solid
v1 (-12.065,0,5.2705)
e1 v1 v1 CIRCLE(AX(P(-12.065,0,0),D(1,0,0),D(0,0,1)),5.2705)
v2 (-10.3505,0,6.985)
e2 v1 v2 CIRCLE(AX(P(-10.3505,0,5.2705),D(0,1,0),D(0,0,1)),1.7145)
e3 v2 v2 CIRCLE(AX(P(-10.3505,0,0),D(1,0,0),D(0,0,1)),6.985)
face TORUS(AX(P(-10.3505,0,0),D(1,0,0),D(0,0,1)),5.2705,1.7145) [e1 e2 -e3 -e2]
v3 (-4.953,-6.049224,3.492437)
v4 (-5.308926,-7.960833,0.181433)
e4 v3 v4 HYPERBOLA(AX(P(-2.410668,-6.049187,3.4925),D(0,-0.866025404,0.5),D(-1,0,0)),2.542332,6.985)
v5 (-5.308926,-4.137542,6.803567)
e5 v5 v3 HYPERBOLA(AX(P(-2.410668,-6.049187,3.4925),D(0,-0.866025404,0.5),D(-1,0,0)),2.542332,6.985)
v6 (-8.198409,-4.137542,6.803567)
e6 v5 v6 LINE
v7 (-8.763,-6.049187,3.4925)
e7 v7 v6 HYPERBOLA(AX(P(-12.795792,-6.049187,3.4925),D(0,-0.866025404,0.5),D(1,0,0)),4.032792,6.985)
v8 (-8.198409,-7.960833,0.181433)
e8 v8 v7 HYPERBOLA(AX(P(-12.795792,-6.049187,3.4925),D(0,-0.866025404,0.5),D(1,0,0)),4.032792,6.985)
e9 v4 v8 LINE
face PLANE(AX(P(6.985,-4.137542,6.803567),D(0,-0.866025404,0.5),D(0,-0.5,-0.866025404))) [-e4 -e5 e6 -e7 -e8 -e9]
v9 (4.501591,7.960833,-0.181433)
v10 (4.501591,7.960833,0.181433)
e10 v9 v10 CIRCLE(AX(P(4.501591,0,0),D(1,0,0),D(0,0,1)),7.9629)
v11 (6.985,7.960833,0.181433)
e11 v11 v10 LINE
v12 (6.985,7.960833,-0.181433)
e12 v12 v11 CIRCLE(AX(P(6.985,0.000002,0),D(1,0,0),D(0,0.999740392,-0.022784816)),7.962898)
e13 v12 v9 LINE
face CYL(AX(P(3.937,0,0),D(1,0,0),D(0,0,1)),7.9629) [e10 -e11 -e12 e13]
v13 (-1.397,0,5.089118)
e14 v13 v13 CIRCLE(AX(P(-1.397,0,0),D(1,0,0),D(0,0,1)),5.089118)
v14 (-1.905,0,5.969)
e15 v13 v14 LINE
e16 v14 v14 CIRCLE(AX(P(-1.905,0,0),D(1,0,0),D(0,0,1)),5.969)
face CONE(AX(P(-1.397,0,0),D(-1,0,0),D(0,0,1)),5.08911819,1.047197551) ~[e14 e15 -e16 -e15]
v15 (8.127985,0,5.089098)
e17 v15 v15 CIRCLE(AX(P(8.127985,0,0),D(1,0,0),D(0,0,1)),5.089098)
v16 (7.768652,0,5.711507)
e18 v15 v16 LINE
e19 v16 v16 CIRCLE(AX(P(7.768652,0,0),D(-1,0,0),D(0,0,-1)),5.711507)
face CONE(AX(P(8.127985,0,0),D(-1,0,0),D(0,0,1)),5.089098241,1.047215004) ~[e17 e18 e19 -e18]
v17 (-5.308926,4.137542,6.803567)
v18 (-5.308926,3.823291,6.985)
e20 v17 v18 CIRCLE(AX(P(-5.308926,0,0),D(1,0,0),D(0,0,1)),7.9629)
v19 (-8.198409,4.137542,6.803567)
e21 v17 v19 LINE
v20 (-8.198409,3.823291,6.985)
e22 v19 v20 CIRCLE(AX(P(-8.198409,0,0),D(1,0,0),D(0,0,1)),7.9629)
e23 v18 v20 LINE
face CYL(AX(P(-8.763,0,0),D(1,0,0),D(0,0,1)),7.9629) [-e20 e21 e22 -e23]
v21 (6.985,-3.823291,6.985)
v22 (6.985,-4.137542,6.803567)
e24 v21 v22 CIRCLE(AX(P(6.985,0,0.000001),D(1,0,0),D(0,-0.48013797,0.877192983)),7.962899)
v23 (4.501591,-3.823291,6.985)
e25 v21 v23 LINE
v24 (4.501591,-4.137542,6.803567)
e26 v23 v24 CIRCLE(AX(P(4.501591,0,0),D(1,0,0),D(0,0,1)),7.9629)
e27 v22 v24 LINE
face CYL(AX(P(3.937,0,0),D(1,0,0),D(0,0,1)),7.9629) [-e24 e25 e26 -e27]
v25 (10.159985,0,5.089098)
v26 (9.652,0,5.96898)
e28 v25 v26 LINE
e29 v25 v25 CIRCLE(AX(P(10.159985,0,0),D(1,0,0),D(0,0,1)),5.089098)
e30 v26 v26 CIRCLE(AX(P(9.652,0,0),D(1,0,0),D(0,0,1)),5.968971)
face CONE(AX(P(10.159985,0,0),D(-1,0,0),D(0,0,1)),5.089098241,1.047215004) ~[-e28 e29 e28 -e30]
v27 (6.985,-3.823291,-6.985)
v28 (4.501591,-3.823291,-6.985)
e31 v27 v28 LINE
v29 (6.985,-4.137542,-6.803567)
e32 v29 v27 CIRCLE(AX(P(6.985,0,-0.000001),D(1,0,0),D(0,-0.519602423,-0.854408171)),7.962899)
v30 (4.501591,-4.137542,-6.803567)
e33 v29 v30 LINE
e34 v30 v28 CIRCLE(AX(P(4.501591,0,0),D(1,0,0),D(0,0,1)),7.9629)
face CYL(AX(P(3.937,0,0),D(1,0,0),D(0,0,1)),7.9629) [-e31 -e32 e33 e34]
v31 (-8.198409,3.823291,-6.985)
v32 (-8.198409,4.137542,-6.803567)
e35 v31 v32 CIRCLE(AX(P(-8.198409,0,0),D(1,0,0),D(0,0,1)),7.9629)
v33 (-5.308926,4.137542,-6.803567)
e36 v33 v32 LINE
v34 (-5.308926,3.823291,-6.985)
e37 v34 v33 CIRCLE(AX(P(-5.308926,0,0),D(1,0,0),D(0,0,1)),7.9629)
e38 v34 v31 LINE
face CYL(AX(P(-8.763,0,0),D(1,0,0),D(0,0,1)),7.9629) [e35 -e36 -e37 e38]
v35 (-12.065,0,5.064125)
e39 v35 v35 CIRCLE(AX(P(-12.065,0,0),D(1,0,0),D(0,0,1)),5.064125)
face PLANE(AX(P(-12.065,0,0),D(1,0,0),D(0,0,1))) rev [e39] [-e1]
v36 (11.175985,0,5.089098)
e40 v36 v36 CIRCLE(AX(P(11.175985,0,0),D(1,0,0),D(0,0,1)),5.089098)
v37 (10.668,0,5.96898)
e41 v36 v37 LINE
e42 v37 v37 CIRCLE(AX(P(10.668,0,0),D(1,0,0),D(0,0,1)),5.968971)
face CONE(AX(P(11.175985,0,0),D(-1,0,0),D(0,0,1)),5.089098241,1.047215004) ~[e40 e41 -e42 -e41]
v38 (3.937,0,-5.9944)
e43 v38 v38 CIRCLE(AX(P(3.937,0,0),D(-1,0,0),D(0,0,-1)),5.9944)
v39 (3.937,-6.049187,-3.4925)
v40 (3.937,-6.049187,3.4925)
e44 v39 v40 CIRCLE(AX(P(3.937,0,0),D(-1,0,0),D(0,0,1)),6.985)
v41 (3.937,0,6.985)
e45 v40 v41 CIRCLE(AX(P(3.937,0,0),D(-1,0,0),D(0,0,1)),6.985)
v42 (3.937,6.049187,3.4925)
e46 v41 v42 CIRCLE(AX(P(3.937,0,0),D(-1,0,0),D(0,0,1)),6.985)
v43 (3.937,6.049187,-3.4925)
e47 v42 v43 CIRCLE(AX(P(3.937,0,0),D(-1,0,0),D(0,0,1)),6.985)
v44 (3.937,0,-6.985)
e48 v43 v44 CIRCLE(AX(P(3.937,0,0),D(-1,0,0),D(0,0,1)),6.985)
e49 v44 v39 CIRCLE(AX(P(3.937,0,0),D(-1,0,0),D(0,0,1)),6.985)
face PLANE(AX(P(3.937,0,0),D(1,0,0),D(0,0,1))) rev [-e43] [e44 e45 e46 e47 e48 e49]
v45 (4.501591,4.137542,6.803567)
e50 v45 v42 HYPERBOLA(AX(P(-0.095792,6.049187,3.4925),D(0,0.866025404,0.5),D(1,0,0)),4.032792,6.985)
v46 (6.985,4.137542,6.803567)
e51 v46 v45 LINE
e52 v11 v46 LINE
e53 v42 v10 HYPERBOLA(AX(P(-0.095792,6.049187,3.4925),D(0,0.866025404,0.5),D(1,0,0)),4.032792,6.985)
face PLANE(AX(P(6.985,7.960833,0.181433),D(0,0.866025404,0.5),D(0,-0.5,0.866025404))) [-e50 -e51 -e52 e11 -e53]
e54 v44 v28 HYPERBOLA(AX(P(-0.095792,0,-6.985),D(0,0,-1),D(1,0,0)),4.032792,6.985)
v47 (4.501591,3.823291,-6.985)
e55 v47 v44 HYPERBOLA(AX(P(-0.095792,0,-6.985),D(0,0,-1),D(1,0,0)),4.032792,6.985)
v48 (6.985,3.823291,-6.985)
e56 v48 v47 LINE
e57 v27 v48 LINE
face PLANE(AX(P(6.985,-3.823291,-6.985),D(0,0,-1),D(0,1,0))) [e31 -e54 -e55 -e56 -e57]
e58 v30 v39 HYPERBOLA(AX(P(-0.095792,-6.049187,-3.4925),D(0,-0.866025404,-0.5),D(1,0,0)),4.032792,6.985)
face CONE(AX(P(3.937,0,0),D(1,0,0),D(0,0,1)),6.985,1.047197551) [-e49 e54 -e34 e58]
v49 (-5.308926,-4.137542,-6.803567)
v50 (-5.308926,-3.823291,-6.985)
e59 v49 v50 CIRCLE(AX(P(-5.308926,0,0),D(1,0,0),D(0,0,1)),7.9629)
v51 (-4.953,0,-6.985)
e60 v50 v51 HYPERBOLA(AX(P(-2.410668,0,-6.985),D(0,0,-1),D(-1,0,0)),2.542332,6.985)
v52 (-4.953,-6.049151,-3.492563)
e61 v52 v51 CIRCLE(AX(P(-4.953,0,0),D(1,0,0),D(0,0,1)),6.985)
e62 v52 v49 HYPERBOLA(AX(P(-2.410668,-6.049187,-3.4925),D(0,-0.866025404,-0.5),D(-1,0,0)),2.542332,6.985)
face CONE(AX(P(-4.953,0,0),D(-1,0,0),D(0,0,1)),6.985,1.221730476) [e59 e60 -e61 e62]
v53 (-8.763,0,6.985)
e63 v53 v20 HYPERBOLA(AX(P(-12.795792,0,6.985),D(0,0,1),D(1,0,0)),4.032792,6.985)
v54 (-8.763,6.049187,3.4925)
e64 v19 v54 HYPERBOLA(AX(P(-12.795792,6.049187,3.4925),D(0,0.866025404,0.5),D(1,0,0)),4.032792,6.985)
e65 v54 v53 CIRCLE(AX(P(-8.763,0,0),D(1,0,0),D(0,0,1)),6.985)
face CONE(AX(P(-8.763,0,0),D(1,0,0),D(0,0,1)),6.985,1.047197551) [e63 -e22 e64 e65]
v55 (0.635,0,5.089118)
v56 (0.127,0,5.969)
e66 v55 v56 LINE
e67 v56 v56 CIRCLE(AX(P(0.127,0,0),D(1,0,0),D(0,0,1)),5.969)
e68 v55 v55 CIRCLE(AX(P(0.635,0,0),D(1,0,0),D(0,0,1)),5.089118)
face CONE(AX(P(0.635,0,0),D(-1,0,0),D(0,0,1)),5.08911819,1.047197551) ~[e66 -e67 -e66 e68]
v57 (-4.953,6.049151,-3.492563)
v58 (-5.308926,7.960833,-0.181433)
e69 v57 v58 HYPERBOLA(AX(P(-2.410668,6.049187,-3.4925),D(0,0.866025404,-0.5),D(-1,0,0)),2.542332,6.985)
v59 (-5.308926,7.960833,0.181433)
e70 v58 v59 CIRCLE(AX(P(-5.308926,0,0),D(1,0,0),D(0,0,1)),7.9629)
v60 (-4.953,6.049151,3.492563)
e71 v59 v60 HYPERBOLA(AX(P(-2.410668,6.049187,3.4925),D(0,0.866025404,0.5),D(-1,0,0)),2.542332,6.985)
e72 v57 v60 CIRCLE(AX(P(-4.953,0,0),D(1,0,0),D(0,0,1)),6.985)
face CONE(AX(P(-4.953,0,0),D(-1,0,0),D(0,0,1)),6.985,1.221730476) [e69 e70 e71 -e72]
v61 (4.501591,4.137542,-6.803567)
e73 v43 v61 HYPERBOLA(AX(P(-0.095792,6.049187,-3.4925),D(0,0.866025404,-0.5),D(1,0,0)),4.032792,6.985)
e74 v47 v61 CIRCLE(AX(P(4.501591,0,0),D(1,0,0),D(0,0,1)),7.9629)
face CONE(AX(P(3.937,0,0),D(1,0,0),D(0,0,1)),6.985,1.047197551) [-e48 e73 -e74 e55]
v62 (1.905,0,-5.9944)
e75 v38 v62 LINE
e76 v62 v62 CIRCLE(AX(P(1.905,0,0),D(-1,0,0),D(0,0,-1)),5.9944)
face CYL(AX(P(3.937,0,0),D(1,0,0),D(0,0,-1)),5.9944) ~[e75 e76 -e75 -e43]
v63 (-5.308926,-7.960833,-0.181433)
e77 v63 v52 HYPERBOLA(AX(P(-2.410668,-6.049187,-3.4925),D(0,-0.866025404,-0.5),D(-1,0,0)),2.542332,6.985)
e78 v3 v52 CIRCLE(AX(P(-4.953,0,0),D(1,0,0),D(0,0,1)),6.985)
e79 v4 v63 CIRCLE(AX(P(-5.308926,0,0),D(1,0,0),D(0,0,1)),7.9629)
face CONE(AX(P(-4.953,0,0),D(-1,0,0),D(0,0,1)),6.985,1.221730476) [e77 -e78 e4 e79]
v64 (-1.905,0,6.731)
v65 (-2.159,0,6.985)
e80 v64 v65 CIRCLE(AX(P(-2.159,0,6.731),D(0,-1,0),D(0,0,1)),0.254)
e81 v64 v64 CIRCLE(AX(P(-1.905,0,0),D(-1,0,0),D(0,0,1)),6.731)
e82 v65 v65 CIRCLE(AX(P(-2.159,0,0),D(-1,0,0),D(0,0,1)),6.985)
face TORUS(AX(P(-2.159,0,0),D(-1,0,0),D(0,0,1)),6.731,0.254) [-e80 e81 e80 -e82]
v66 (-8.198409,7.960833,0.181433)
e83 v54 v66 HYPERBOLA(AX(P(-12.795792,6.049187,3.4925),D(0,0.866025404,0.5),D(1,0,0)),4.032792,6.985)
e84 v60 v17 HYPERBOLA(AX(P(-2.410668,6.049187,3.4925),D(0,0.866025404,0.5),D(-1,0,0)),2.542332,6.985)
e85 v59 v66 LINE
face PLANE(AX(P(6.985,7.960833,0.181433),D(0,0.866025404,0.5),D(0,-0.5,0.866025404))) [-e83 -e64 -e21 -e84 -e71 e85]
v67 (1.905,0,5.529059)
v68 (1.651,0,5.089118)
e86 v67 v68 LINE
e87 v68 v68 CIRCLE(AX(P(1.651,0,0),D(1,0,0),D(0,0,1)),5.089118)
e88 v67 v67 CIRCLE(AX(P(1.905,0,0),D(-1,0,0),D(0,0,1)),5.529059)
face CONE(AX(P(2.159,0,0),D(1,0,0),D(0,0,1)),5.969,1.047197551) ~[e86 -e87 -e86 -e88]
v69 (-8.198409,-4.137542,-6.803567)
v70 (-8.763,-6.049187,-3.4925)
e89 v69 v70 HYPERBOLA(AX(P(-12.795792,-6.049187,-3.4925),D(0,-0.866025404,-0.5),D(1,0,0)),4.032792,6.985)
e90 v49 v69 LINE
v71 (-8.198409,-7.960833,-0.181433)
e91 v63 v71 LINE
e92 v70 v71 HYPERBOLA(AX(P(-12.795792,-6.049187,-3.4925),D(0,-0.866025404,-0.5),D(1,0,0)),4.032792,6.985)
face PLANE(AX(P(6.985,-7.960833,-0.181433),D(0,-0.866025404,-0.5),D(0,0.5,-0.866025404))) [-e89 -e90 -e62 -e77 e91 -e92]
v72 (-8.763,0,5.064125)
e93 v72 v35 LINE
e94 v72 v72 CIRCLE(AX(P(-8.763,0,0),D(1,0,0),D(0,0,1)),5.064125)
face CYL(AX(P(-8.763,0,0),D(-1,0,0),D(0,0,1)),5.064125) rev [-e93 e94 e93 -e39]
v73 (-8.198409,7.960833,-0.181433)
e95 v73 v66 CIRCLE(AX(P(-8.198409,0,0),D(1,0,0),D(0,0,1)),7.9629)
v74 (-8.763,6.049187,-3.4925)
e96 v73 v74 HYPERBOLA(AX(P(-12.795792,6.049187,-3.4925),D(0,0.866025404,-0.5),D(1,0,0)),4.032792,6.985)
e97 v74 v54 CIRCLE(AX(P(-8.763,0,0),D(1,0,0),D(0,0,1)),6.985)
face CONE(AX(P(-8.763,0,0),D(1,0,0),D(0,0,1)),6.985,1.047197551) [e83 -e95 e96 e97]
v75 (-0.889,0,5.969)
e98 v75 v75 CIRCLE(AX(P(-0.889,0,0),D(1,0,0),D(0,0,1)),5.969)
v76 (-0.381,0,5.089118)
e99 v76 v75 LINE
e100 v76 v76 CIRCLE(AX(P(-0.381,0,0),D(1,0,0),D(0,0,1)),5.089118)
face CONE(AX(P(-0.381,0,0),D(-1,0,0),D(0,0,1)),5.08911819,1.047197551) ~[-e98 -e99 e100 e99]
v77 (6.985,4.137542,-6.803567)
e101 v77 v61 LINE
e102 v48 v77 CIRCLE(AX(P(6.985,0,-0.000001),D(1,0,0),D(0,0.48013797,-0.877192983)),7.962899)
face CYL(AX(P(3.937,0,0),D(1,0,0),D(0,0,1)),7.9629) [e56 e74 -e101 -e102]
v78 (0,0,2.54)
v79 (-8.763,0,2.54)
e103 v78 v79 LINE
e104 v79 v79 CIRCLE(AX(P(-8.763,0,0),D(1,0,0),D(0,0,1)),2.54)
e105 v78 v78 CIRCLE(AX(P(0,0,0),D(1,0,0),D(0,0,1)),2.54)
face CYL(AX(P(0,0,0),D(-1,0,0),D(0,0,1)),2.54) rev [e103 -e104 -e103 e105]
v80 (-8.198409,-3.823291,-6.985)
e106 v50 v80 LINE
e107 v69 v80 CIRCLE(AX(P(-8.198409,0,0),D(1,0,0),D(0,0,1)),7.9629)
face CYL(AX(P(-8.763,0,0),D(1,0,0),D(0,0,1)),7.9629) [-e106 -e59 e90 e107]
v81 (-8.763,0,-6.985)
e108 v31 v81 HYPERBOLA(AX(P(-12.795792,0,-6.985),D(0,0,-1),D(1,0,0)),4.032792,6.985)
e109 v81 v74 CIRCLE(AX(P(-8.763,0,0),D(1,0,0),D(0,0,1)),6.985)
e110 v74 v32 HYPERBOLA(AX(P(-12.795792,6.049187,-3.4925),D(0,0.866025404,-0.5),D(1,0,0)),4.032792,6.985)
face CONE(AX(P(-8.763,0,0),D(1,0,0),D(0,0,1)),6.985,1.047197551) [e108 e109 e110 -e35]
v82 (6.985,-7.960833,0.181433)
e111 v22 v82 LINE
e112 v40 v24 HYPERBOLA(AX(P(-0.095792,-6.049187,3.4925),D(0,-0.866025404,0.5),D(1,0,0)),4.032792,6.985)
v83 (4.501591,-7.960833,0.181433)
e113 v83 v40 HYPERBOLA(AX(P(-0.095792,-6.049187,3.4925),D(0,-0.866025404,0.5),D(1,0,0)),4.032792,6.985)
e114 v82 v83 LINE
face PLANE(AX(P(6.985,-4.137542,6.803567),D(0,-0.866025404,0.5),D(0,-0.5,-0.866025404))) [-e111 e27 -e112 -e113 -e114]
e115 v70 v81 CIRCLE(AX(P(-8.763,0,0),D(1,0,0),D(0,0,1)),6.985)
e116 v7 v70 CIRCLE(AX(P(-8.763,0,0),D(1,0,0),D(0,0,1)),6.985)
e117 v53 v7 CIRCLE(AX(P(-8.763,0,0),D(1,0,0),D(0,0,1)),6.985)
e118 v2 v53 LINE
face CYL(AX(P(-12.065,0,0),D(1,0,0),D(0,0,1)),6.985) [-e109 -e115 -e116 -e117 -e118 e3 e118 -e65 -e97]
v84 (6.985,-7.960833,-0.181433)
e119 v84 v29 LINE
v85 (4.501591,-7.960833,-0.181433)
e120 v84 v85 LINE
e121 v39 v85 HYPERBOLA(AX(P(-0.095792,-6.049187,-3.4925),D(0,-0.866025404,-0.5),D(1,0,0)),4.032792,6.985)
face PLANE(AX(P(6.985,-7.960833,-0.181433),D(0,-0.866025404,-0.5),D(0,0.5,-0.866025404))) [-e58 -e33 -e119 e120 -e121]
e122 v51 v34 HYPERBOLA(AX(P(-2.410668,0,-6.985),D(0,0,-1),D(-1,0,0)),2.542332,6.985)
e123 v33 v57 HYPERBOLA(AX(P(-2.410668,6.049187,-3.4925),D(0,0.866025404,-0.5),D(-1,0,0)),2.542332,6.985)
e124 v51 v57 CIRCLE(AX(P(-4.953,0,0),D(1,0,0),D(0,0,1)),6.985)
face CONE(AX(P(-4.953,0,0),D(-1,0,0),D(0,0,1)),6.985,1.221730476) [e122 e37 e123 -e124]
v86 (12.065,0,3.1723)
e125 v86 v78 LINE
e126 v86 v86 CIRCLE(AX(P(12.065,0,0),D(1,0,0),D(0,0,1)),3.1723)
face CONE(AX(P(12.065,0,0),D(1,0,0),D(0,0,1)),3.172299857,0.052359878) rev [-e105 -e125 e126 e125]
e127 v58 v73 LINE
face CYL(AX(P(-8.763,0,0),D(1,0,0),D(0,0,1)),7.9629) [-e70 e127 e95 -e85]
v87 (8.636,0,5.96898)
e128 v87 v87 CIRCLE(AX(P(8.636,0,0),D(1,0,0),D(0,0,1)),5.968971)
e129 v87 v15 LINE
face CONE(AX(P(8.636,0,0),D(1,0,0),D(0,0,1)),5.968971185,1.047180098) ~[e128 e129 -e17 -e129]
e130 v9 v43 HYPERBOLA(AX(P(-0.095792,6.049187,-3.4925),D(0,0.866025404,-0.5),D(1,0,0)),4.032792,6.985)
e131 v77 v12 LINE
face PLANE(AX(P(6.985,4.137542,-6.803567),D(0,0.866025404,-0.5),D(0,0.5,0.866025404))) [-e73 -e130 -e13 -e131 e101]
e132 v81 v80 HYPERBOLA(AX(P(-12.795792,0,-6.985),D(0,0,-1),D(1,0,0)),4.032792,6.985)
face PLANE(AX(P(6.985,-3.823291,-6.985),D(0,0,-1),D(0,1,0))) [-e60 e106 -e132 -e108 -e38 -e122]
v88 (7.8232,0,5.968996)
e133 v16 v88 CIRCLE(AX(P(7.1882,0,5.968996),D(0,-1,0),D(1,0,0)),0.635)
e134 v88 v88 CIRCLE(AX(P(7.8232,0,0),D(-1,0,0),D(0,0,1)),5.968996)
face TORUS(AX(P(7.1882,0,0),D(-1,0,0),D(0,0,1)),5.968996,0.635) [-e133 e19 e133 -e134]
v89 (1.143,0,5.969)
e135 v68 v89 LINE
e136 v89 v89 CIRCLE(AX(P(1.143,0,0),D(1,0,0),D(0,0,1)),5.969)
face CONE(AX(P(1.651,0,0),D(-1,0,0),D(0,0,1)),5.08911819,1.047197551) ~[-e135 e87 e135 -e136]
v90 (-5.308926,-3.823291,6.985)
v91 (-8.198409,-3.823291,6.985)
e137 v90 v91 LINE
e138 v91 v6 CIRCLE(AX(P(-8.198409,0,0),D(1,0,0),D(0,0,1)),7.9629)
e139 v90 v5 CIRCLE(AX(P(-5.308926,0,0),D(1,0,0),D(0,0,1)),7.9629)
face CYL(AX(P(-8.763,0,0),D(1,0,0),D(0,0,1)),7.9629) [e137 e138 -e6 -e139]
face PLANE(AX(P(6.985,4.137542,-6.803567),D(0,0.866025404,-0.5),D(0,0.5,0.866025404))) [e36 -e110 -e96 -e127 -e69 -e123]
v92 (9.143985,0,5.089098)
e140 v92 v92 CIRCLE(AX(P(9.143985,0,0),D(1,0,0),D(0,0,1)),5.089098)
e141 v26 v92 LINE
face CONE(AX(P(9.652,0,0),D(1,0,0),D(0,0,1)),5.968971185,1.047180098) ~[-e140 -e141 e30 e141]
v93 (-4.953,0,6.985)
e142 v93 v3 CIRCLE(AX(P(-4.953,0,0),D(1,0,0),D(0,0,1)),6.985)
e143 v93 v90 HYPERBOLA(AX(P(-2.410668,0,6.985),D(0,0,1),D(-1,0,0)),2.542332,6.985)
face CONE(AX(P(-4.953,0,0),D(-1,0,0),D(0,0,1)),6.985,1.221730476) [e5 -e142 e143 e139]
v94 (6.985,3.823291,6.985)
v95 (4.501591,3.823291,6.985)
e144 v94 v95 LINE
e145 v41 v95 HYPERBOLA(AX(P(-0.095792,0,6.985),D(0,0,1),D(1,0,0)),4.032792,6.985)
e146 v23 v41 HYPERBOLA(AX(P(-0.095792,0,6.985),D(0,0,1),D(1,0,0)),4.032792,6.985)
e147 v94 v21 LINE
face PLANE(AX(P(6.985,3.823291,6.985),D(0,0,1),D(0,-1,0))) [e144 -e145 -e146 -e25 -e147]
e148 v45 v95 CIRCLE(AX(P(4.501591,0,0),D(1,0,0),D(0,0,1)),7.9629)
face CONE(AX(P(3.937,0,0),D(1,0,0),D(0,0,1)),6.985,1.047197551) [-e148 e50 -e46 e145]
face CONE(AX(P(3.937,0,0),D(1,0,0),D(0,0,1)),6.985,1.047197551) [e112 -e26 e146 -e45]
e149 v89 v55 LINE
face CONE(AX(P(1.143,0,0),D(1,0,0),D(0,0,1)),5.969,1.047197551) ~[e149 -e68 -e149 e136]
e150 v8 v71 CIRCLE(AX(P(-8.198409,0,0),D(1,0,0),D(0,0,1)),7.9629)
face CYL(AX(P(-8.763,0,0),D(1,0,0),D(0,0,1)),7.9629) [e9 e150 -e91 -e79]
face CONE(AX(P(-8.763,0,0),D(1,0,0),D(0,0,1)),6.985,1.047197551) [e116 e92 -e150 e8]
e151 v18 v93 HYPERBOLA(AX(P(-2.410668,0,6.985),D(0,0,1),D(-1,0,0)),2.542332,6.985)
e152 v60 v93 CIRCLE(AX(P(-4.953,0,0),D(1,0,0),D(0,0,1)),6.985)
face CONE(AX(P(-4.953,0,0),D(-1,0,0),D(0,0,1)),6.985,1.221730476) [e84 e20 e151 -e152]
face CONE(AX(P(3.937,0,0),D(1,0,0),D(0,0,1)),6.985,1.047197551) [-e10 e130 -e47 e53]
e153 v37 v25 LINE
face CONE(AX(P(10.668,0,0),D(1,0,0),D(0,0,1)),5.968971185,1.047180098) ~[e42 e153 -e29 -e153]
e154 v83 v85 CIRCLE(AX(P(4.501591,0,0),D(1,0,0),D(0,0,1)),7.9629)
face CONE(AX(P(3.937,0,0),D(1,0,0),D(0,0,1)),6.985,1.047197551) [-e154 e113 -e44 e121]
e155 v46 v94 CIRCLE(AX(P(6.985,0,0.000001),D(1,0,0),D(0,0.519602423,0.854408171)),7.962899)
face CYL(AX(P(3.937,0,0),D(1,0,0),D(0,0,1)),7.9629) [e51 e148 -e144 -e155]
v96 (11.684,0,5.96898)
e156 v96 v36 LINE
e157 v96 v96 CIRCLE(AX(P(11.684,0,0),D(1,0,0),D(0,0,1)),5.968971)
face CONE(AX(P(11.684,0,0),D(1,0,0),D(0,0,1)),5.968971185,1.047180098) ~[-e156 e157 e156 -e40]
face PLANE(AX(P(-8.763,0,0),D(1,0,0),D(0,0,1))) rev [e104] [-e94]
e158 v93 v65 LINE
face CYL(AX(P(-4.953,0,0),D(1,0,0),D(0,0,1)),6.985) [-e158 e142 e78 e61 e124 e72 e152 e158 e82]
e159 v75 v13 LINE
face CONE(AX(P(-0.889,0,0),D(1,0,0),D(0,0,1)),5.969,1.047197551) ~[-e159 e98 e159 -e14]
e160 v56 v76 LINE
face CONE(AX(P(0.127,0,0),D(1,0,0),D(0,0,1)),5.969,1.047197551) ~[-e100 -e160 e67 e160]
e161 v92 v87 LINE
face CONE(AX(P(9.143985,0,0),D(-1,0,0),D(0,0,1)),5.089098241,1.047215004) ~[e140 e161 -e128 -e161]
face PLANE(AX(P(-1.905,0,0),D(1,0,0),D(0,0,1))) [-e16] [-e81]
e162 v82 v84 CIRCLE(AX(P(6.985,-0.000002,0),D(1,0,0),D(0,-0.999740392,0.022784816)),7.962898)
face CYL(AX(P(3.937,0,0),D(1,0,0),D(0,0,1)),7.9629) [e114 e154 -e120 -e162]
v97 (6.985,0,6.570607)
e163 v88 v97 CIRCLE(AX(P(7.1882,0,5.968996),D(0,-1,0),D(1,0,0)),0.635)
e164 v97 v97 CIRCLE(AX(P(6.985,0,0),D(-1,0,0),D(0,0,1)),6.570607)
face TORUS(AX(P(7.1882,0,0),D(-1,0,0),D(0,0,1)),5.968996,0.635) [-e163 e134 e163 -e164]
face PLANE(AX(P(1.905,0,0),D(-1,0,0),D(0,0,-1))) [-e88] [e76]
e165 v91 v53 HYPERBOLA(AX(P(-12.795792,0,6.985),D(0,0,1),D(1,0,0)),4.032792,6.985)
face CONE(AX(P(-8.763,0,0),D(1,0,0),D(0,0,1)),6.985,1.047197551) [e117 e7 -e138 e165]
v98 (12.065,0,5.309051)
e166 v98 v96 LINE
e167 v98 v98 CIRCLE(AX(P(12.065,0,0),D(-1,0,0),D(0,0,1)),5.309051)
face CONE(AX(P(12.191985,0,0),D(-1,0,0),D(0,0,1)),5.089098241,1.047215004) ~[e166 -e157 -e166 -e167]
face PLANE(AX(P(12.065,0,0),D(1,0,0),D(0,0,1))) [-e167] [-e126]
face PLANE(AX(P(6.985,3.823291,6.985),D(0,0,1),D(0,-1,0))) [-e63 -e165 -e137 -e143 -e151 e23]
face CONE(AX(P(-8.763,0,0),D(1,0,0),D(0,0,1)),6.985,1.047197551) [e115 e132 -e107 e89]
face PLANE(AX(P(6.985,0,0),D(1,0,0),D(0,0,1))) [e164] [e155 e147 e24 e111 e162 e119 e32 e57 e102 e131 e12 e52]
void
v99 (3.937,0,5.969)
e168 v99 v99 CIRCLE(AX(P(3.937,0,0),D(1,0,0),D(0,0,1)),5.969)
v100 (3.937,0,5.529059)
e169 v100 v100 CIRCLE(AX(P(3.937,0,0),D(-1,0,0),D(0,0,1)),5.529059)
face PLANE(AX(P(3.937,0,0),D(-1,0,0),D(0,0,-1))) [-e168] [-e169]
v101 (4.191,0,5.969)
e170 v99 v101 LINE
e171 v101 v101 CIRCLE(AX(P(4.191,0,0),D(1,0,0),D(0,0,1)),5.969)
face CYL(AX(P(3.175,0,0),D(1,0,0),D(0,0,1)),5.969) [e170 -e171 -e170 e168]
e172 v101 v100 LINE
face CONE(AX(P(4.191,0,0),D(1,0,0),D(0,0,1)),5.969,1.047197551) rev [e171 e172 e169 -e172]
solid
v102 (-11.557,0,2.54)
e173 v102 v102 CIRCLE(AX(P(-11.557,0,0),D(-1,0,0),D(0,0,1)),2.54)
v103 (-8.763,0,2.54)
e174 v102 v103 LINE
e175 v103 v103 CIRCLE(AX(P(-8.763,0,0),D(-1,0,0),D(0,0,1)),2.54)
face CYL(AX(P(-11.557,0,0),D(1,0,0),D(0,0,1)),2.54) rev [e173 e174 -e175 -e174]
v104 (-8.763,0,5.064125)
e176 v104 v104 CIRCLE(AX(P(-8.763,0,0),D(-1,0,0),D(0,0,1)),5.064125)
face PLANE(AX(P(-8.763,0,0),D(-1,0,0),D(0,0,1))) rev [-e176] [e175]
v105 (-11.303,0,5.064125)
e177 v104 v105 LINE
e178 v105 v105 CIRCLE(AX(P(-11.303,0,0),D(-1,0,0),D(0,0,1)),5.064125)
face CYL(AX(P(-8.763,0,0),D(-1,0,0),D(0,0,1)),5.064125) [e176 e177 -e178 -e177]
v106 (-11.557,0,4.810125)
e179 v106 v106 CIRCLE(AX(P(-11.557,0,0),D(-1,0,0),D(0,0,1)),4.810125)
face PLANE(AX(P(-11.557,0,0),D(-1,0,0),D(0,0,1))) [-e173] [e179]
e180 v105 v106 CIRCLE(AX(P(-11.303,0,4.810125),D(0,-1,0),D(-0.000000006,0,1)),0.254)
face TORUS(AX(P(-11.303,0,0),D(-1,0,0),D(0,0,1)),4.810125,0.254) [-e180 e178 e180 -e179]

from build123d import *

# Parameters (mm, degrees)
SKETCH6_OUTSIDE_W  = 24.528
SKETCH6_OUTSIDE_H  = 24.528
CUT_EXTRUDE2_DEPTH = 15.748
SKETCH7_OUTSIDE_W  = 31.19
SKETCH7_OUTSIDE_H  = 33.146
SKETCH7_OUTSIDE_R  = 6.985
CUT_EXTRUDE3_DEPTH = 2.54
CUT_EXTRUDE3_DRAFT = -60
SKETCH8_OUTSIDE_W  = 36.35
SKETCH8_OUTSIDE_H  = 38.306
SKETCH8_OUTSIDE_R  = 6.985
CUT_EXTRUDE4_DEPTH = 2.54
CUT_EXTRUDE4_DRAFT = -70
SKETCH9_OUTSIDE_W  = 54.012
SKETCH9_OUTSIDE_H  = 55.968
SKETCH9_OUTSIDE_R  = 6.985
CUT_EXTRUDE5_DEPTH = 9.128
CUT_EXTRUDE5_DRAFT = -60
FILLET1_R          = 1.7145
LPATTERN1_COUNT    = 6
LPATTERN1_PITCH    = 1.016
LPATTERN2_COUNT    = 5
LPATTERN2_PITCH    = 1.016
SKETCH16_R         = 5.9944
SKETCH16_R_2       = 3.172299857
EXTRUDE4_DEPTH     = 2.032
FILLET5_R          = 0.254
SKETCH18_R         = 0.635


with BuildPart() as part:
    # Sketch2 → Revolve1 (revolve)
    with BuildSketch(Plane.XY, mode=Mode.PRIVATE) as revolve1_sk:
        Polygon((-12.065, 5.064125), (-12.065, 6.985), (-8.763, 6.985), (-8.763, 7.9629), (-4.953, 7.9629), (-4.953, 6.985), (-1.905, 6.985), (-1.905, 5.969), (3.937, 5.969), (3.937, 7.9629), (6.985, 7.9629), (6.985, 5.969), (12.065, 5.968911337), (12.065, 3.172299857), (0, 2.54), (-8.763, 2.54), (-8.763, 5.064125), align=None)
    revolve(revolve1_sk.sketch.rotate(Axis((-69.075133251, 0, 0), (1, 0, 0)), 90), axis=Axis((-69.075133251, 0, 0), (1, 0, 0)))  # turned: the seam where the file's is

    # Sketch6 outside → Cut-Extrude2 (cut)
    with BuildSketch(Plane(origin=(6.985, 0, 0), x_dir=(0, 0, -1), z_dir=(1, 0, 0))):
        Rectangle(SKETCH6_OUTSIDE_W, SKETCH6_OUTSIDE_H)
        with BuildLine():
            Line((6.985, -3.823290652), (6.985, 3.823290652))
            ThreePointArc((6.985, 3.823290652), (6.896073688, 3.98145), (6.803566831, 4.137542119))
            Line((6.803566831, 4.137542119), (0.181433169, 7.960832771))
            ThreePointArc((0.181433169, 7.960832771), (0, 7.9629), (-0.181433169, 7.960832771))
            Line((-0.181433169, 7.960832771), (-6.803566831, 4.137542119))
            ThreePointArc((-6.803566831, 4.137542119), (-6.896073688, 3.98145), (-6.985, 3.823290652))
            Line((-6.985, 3.823290652), (-6.985, -3.823290652))
            ThreePointArc((-6.985, -3.823290652), (-6.896073688, -3.98145), (-6.803566831, -4.137542119))
            Line((-6.803566831, -4.137542119), (-0.181433169, -7.960832771))
            ThreePointArc((-0.181433169, -7.960832771), (0, -7.9629), (0.181433169, -7.960832771))
            Line((0.181433169, -7.960832771), (6.803566831, -4.137542119))
            ThreePointArc((6.803566831, -4.137542119), (6.896073688, -3.98145), (6.985, -3.823290652))
        make_face(mode=Mode.SUBTRACT)
    extrude(amount=-CUT_EXTRUDE2_DEPTH, mode=Mode.SUBTRACT)


with BuildPart() as cut_extrude3_tool:
    # Sketch7 outside → Cut-Extrude3 (with draft: the straight prism first)
    with BuildSketch(Plane.ZY.offset(8.763)):
        Rectangle(SKETCH7_OUTSIDE_W, SKETCH7_OUTSIDE_H)
        Circle(SKETCH7_OUTSIDE_R, mode=Mode.SUBTRACT)
    extrude(amount=-CUT_EXTRUDE3_DEPTH)
    # Cut-Extrude3: the draft: its side faces are tilted about the plane it starts from
    cut_extrude3_sides = [cut_extrude3_tool.faces().sort_by_distance(p)[0] for p in [
        (-7.493, -16.573, 0),
        (-7.493, 0, 15.595),
        (-7.493, 16.573, 0),
        (-7.493, 0, -15.595),
        (-7.493, 0, -6.985),
    ]]
    draft(cut_extrude3_sides, Plane.ZY.offset(8.763), CUT_EXTRUDE3_DRAFT)


with BuildPart() as part_1:
    add(part.part)

    # Cut-Extrude3: cut by cut_extrude3_tool
    add(cut_extrude3_tool.part, mode=Mode.SUBTRACT)


with BuildPart() as cut_extrude4_tool:
    # Sketch8 outside → Cut-Extrude4 (with draft: the straight prism first)
    with BuildSketch(Plane(origin=(-4.953, 0, 0), x_dir=(0, 0, -1), z_dir=(1, 0, 0))):
        Rectangle(SKETCH8_OUTSIDE_W, SKETCH8_OUTSIDE_H)
        with Locations(Location((0, 0, 0), (0, 0, 180))):  # turned: the seam where the file's is
            Circle(SKETCH8_OUTSIDE_R, mode=Mode.SUBTRACT)
    extrude(amount=-CUT_EXTRUDE4_DEPTH)
    # Cut-Extrude4: the draft: its side faces are tilted about the plane it starts from
    cut_extrude4_sides = [cut_extrude4_tool.faces().sort_by_distance(p)[0] for p in [
        (-6.223, -19.153, 0),
        (-6.223, 0, -18.175),
        (-6.223, 19.153, 0),
        (-6.223, 0, 18.175),
        (-6.223, 0, -6.985),
    ]]
    draft(cut_extrude4_sides, Plane(origin=(-4.953, 0, 0), x_dir=(0, 0, -1), z_dir=(1, 0, 0)), CUT_EXTRUDE4_DRAFT)


with BuildPart() as part_2:
    add(part_1.part)

    # Cut-Extrude4: cut by cut_extrude4_tool
    add(cut_extrude4_tool.part, mode=Mode.SUBTRACT)


with BuildPart() as cut_extrude5_tool:
    # Sketch9 outside → Cut-Extrude5 (with draft: the straight prism first)
    with BuildSketch(Plane.ZY.offset(-3.937)):
        Rectangle(SKETCH9_OUTSIDE_W, SKETCH9_OUTSIDE_H)
        Circle(SKETCH9_OUTSIDE_R, mode=Mode.SUBTRACT)
    extrude(amount=-CUT_EXTRUDE5_DEPTH)
    # Cut-Extrude5: the draft: its side faces are tilted about the plane it starts from
    cut_extrude5_sides = [cut_extrude5_tool.faces().sort_by_distance(p)[0] for p in [
        (8.501, -27.984, 0),
        (8.501, 0, 27.006),
        (8.501, 27.984, 0),
        (8.501, 0, -27.006),
        (8.501, 0, -6.985),
    ]]
    draft(cut_extrude5_sides, Plane.ZY.offset(-3.937), CUT_EXTRUDE5_DRAFT)


with BuildPart() as part_3:
    add(part_2.part)

    # Cut-Extrude5: cut by cut_extrude5_tool
    add(cut_extrude5_tool.part, mode=Mode.SUBTRACT)

    # Fillet1
    fillet1_edges = [part_3.edges().sort_by_distance(p)[0] for p in [
        (-12.065, 0, -6.985),
    ]]
    fillet(fillet1_edges, radius=FILLET1_R)

    # Sketch13 → Cut-Revolve1 (revolve, cut)
    with BuildSketch(Plane.XY, mode=Mode.PRIVATE) as cut_revolve1_sk:
        Polygon((-1.905, 5.969), (-0.889, 5.969), (-1.397, 5.08911819), align=None)
    cut_revolve1 = revolve(cut_revolve1_sk.sketch.rotate(Axis((-15.434011776, 0, 0), (1, 0, 0)), 90), axis=Axis((-15.434011776, 0, 0), (1, 0, 0)), mode=Mode.SUBTRACT)  # turned: the seam where the file's is

    # LPattern1: Cut-Revolve1 ×6
    with Locations(*[(i * LPATTERN1_PITCH, 0, 0) for i in range(1, LPATTERN1_COUNT)]):
        add(cut_revolve1, mode=Mode.SUBTRACT)

    # Sketch14 → Cut-Revolve2 (revolve, cut)
    with BuildSketch(Plane.XY, mode=Mode.PRIVATE) as cut_revolve2_sk:
        Polygon((7.62, 5.968988917), (8.636, 5.968971185), (8.127984643, 5.089098241), align=None)
    cut_revolve2 = revolve(cut_revolve2_sk.sketch.rotate(Axis((-13.79514925, 0, 0), (1, 0, 0)), 90), axis=Axis((-13.79514925, 0, 0), (1, 0, 0)), mode=Mode.SUBTRACT)  # turned: the seam where the file's is

    # LPattern2: Cut-Revolve2 ×5
    with Locations(*[(i * LPATTERN2_PITCH, 0, 0) for i in range(1, LPATTERN2_COUNT)]):
        add(cut_revolve2, mode=Mode.SUBTRACT)

    # Sketch16 → Extrude4 (add)
    with BuildSketch(Plane.ZY.offset(-3.937)):
        with Locations(Location((0, 0, 0), (0, 0, 180))):  # turned: the seam where the file's is
            Circle(SKETCH16_R)
        Circle(SKETCH16_R_2, mode=Mode.SUBTRACT)
    extrude(amount=EXTRUDE4_DEPTH)

    # Fillet5
    fillet5_edges = [part_3.edges().sort_by_distance(p)[0] for p in [
        (-1.905, 0, -6.985),
    ]]
    fillet(fillet5_edges, radius=FILLET5_R)

    # Sketch18 → Revolve4 (revolve)
    with BuildSketch(Plane.XY, mode=Mode.PRIVATE) as revolve4_sk:
        with Locations((7.1882, 5.968996453)):
            Circle(SKETCH18_R)
    revolve(revolve4_sk.sketch.rotate(Axis((19.121197091, 0, 0), (-1, 0, 0)), 270), axis=Axis((19.121197091, 0, 0), (-1, 0, 0)))  # turned: the seam where the file's is


with BuildPart() as body_2:
    # Sketch12 → Revolve3 (revolve)
    with BuildSketch(Plane.XY, mode=Mode.PRIVATE) as revolve3_sk:
        with BuildLine():
            Line((-8.763, 2.54), (-8.763, 5.064125))
            Line((-8.763, 5.064125), (-11.303, 5.064125))
            ThreePointArc((-11.303, 5.064125), (-11.482605122, 4.989730122), (-11.557, 4.810125))
            Line((-11.557, 4.810125), (-11.557, 2.54))
            Line((-11.557, 2.54), (-8.763, 2.54))
        make_face()
    revolve(revolve3_sk.sketch.rotate(Axis((13.84956521, 0, 0), (-1, 0, 0)), 270), axis=Axis((13.84956521, 0, 0), (-1, 0, 0)))  # turned: the seam where the file's is


solid = Compound([part_3.part, body_2.part])
